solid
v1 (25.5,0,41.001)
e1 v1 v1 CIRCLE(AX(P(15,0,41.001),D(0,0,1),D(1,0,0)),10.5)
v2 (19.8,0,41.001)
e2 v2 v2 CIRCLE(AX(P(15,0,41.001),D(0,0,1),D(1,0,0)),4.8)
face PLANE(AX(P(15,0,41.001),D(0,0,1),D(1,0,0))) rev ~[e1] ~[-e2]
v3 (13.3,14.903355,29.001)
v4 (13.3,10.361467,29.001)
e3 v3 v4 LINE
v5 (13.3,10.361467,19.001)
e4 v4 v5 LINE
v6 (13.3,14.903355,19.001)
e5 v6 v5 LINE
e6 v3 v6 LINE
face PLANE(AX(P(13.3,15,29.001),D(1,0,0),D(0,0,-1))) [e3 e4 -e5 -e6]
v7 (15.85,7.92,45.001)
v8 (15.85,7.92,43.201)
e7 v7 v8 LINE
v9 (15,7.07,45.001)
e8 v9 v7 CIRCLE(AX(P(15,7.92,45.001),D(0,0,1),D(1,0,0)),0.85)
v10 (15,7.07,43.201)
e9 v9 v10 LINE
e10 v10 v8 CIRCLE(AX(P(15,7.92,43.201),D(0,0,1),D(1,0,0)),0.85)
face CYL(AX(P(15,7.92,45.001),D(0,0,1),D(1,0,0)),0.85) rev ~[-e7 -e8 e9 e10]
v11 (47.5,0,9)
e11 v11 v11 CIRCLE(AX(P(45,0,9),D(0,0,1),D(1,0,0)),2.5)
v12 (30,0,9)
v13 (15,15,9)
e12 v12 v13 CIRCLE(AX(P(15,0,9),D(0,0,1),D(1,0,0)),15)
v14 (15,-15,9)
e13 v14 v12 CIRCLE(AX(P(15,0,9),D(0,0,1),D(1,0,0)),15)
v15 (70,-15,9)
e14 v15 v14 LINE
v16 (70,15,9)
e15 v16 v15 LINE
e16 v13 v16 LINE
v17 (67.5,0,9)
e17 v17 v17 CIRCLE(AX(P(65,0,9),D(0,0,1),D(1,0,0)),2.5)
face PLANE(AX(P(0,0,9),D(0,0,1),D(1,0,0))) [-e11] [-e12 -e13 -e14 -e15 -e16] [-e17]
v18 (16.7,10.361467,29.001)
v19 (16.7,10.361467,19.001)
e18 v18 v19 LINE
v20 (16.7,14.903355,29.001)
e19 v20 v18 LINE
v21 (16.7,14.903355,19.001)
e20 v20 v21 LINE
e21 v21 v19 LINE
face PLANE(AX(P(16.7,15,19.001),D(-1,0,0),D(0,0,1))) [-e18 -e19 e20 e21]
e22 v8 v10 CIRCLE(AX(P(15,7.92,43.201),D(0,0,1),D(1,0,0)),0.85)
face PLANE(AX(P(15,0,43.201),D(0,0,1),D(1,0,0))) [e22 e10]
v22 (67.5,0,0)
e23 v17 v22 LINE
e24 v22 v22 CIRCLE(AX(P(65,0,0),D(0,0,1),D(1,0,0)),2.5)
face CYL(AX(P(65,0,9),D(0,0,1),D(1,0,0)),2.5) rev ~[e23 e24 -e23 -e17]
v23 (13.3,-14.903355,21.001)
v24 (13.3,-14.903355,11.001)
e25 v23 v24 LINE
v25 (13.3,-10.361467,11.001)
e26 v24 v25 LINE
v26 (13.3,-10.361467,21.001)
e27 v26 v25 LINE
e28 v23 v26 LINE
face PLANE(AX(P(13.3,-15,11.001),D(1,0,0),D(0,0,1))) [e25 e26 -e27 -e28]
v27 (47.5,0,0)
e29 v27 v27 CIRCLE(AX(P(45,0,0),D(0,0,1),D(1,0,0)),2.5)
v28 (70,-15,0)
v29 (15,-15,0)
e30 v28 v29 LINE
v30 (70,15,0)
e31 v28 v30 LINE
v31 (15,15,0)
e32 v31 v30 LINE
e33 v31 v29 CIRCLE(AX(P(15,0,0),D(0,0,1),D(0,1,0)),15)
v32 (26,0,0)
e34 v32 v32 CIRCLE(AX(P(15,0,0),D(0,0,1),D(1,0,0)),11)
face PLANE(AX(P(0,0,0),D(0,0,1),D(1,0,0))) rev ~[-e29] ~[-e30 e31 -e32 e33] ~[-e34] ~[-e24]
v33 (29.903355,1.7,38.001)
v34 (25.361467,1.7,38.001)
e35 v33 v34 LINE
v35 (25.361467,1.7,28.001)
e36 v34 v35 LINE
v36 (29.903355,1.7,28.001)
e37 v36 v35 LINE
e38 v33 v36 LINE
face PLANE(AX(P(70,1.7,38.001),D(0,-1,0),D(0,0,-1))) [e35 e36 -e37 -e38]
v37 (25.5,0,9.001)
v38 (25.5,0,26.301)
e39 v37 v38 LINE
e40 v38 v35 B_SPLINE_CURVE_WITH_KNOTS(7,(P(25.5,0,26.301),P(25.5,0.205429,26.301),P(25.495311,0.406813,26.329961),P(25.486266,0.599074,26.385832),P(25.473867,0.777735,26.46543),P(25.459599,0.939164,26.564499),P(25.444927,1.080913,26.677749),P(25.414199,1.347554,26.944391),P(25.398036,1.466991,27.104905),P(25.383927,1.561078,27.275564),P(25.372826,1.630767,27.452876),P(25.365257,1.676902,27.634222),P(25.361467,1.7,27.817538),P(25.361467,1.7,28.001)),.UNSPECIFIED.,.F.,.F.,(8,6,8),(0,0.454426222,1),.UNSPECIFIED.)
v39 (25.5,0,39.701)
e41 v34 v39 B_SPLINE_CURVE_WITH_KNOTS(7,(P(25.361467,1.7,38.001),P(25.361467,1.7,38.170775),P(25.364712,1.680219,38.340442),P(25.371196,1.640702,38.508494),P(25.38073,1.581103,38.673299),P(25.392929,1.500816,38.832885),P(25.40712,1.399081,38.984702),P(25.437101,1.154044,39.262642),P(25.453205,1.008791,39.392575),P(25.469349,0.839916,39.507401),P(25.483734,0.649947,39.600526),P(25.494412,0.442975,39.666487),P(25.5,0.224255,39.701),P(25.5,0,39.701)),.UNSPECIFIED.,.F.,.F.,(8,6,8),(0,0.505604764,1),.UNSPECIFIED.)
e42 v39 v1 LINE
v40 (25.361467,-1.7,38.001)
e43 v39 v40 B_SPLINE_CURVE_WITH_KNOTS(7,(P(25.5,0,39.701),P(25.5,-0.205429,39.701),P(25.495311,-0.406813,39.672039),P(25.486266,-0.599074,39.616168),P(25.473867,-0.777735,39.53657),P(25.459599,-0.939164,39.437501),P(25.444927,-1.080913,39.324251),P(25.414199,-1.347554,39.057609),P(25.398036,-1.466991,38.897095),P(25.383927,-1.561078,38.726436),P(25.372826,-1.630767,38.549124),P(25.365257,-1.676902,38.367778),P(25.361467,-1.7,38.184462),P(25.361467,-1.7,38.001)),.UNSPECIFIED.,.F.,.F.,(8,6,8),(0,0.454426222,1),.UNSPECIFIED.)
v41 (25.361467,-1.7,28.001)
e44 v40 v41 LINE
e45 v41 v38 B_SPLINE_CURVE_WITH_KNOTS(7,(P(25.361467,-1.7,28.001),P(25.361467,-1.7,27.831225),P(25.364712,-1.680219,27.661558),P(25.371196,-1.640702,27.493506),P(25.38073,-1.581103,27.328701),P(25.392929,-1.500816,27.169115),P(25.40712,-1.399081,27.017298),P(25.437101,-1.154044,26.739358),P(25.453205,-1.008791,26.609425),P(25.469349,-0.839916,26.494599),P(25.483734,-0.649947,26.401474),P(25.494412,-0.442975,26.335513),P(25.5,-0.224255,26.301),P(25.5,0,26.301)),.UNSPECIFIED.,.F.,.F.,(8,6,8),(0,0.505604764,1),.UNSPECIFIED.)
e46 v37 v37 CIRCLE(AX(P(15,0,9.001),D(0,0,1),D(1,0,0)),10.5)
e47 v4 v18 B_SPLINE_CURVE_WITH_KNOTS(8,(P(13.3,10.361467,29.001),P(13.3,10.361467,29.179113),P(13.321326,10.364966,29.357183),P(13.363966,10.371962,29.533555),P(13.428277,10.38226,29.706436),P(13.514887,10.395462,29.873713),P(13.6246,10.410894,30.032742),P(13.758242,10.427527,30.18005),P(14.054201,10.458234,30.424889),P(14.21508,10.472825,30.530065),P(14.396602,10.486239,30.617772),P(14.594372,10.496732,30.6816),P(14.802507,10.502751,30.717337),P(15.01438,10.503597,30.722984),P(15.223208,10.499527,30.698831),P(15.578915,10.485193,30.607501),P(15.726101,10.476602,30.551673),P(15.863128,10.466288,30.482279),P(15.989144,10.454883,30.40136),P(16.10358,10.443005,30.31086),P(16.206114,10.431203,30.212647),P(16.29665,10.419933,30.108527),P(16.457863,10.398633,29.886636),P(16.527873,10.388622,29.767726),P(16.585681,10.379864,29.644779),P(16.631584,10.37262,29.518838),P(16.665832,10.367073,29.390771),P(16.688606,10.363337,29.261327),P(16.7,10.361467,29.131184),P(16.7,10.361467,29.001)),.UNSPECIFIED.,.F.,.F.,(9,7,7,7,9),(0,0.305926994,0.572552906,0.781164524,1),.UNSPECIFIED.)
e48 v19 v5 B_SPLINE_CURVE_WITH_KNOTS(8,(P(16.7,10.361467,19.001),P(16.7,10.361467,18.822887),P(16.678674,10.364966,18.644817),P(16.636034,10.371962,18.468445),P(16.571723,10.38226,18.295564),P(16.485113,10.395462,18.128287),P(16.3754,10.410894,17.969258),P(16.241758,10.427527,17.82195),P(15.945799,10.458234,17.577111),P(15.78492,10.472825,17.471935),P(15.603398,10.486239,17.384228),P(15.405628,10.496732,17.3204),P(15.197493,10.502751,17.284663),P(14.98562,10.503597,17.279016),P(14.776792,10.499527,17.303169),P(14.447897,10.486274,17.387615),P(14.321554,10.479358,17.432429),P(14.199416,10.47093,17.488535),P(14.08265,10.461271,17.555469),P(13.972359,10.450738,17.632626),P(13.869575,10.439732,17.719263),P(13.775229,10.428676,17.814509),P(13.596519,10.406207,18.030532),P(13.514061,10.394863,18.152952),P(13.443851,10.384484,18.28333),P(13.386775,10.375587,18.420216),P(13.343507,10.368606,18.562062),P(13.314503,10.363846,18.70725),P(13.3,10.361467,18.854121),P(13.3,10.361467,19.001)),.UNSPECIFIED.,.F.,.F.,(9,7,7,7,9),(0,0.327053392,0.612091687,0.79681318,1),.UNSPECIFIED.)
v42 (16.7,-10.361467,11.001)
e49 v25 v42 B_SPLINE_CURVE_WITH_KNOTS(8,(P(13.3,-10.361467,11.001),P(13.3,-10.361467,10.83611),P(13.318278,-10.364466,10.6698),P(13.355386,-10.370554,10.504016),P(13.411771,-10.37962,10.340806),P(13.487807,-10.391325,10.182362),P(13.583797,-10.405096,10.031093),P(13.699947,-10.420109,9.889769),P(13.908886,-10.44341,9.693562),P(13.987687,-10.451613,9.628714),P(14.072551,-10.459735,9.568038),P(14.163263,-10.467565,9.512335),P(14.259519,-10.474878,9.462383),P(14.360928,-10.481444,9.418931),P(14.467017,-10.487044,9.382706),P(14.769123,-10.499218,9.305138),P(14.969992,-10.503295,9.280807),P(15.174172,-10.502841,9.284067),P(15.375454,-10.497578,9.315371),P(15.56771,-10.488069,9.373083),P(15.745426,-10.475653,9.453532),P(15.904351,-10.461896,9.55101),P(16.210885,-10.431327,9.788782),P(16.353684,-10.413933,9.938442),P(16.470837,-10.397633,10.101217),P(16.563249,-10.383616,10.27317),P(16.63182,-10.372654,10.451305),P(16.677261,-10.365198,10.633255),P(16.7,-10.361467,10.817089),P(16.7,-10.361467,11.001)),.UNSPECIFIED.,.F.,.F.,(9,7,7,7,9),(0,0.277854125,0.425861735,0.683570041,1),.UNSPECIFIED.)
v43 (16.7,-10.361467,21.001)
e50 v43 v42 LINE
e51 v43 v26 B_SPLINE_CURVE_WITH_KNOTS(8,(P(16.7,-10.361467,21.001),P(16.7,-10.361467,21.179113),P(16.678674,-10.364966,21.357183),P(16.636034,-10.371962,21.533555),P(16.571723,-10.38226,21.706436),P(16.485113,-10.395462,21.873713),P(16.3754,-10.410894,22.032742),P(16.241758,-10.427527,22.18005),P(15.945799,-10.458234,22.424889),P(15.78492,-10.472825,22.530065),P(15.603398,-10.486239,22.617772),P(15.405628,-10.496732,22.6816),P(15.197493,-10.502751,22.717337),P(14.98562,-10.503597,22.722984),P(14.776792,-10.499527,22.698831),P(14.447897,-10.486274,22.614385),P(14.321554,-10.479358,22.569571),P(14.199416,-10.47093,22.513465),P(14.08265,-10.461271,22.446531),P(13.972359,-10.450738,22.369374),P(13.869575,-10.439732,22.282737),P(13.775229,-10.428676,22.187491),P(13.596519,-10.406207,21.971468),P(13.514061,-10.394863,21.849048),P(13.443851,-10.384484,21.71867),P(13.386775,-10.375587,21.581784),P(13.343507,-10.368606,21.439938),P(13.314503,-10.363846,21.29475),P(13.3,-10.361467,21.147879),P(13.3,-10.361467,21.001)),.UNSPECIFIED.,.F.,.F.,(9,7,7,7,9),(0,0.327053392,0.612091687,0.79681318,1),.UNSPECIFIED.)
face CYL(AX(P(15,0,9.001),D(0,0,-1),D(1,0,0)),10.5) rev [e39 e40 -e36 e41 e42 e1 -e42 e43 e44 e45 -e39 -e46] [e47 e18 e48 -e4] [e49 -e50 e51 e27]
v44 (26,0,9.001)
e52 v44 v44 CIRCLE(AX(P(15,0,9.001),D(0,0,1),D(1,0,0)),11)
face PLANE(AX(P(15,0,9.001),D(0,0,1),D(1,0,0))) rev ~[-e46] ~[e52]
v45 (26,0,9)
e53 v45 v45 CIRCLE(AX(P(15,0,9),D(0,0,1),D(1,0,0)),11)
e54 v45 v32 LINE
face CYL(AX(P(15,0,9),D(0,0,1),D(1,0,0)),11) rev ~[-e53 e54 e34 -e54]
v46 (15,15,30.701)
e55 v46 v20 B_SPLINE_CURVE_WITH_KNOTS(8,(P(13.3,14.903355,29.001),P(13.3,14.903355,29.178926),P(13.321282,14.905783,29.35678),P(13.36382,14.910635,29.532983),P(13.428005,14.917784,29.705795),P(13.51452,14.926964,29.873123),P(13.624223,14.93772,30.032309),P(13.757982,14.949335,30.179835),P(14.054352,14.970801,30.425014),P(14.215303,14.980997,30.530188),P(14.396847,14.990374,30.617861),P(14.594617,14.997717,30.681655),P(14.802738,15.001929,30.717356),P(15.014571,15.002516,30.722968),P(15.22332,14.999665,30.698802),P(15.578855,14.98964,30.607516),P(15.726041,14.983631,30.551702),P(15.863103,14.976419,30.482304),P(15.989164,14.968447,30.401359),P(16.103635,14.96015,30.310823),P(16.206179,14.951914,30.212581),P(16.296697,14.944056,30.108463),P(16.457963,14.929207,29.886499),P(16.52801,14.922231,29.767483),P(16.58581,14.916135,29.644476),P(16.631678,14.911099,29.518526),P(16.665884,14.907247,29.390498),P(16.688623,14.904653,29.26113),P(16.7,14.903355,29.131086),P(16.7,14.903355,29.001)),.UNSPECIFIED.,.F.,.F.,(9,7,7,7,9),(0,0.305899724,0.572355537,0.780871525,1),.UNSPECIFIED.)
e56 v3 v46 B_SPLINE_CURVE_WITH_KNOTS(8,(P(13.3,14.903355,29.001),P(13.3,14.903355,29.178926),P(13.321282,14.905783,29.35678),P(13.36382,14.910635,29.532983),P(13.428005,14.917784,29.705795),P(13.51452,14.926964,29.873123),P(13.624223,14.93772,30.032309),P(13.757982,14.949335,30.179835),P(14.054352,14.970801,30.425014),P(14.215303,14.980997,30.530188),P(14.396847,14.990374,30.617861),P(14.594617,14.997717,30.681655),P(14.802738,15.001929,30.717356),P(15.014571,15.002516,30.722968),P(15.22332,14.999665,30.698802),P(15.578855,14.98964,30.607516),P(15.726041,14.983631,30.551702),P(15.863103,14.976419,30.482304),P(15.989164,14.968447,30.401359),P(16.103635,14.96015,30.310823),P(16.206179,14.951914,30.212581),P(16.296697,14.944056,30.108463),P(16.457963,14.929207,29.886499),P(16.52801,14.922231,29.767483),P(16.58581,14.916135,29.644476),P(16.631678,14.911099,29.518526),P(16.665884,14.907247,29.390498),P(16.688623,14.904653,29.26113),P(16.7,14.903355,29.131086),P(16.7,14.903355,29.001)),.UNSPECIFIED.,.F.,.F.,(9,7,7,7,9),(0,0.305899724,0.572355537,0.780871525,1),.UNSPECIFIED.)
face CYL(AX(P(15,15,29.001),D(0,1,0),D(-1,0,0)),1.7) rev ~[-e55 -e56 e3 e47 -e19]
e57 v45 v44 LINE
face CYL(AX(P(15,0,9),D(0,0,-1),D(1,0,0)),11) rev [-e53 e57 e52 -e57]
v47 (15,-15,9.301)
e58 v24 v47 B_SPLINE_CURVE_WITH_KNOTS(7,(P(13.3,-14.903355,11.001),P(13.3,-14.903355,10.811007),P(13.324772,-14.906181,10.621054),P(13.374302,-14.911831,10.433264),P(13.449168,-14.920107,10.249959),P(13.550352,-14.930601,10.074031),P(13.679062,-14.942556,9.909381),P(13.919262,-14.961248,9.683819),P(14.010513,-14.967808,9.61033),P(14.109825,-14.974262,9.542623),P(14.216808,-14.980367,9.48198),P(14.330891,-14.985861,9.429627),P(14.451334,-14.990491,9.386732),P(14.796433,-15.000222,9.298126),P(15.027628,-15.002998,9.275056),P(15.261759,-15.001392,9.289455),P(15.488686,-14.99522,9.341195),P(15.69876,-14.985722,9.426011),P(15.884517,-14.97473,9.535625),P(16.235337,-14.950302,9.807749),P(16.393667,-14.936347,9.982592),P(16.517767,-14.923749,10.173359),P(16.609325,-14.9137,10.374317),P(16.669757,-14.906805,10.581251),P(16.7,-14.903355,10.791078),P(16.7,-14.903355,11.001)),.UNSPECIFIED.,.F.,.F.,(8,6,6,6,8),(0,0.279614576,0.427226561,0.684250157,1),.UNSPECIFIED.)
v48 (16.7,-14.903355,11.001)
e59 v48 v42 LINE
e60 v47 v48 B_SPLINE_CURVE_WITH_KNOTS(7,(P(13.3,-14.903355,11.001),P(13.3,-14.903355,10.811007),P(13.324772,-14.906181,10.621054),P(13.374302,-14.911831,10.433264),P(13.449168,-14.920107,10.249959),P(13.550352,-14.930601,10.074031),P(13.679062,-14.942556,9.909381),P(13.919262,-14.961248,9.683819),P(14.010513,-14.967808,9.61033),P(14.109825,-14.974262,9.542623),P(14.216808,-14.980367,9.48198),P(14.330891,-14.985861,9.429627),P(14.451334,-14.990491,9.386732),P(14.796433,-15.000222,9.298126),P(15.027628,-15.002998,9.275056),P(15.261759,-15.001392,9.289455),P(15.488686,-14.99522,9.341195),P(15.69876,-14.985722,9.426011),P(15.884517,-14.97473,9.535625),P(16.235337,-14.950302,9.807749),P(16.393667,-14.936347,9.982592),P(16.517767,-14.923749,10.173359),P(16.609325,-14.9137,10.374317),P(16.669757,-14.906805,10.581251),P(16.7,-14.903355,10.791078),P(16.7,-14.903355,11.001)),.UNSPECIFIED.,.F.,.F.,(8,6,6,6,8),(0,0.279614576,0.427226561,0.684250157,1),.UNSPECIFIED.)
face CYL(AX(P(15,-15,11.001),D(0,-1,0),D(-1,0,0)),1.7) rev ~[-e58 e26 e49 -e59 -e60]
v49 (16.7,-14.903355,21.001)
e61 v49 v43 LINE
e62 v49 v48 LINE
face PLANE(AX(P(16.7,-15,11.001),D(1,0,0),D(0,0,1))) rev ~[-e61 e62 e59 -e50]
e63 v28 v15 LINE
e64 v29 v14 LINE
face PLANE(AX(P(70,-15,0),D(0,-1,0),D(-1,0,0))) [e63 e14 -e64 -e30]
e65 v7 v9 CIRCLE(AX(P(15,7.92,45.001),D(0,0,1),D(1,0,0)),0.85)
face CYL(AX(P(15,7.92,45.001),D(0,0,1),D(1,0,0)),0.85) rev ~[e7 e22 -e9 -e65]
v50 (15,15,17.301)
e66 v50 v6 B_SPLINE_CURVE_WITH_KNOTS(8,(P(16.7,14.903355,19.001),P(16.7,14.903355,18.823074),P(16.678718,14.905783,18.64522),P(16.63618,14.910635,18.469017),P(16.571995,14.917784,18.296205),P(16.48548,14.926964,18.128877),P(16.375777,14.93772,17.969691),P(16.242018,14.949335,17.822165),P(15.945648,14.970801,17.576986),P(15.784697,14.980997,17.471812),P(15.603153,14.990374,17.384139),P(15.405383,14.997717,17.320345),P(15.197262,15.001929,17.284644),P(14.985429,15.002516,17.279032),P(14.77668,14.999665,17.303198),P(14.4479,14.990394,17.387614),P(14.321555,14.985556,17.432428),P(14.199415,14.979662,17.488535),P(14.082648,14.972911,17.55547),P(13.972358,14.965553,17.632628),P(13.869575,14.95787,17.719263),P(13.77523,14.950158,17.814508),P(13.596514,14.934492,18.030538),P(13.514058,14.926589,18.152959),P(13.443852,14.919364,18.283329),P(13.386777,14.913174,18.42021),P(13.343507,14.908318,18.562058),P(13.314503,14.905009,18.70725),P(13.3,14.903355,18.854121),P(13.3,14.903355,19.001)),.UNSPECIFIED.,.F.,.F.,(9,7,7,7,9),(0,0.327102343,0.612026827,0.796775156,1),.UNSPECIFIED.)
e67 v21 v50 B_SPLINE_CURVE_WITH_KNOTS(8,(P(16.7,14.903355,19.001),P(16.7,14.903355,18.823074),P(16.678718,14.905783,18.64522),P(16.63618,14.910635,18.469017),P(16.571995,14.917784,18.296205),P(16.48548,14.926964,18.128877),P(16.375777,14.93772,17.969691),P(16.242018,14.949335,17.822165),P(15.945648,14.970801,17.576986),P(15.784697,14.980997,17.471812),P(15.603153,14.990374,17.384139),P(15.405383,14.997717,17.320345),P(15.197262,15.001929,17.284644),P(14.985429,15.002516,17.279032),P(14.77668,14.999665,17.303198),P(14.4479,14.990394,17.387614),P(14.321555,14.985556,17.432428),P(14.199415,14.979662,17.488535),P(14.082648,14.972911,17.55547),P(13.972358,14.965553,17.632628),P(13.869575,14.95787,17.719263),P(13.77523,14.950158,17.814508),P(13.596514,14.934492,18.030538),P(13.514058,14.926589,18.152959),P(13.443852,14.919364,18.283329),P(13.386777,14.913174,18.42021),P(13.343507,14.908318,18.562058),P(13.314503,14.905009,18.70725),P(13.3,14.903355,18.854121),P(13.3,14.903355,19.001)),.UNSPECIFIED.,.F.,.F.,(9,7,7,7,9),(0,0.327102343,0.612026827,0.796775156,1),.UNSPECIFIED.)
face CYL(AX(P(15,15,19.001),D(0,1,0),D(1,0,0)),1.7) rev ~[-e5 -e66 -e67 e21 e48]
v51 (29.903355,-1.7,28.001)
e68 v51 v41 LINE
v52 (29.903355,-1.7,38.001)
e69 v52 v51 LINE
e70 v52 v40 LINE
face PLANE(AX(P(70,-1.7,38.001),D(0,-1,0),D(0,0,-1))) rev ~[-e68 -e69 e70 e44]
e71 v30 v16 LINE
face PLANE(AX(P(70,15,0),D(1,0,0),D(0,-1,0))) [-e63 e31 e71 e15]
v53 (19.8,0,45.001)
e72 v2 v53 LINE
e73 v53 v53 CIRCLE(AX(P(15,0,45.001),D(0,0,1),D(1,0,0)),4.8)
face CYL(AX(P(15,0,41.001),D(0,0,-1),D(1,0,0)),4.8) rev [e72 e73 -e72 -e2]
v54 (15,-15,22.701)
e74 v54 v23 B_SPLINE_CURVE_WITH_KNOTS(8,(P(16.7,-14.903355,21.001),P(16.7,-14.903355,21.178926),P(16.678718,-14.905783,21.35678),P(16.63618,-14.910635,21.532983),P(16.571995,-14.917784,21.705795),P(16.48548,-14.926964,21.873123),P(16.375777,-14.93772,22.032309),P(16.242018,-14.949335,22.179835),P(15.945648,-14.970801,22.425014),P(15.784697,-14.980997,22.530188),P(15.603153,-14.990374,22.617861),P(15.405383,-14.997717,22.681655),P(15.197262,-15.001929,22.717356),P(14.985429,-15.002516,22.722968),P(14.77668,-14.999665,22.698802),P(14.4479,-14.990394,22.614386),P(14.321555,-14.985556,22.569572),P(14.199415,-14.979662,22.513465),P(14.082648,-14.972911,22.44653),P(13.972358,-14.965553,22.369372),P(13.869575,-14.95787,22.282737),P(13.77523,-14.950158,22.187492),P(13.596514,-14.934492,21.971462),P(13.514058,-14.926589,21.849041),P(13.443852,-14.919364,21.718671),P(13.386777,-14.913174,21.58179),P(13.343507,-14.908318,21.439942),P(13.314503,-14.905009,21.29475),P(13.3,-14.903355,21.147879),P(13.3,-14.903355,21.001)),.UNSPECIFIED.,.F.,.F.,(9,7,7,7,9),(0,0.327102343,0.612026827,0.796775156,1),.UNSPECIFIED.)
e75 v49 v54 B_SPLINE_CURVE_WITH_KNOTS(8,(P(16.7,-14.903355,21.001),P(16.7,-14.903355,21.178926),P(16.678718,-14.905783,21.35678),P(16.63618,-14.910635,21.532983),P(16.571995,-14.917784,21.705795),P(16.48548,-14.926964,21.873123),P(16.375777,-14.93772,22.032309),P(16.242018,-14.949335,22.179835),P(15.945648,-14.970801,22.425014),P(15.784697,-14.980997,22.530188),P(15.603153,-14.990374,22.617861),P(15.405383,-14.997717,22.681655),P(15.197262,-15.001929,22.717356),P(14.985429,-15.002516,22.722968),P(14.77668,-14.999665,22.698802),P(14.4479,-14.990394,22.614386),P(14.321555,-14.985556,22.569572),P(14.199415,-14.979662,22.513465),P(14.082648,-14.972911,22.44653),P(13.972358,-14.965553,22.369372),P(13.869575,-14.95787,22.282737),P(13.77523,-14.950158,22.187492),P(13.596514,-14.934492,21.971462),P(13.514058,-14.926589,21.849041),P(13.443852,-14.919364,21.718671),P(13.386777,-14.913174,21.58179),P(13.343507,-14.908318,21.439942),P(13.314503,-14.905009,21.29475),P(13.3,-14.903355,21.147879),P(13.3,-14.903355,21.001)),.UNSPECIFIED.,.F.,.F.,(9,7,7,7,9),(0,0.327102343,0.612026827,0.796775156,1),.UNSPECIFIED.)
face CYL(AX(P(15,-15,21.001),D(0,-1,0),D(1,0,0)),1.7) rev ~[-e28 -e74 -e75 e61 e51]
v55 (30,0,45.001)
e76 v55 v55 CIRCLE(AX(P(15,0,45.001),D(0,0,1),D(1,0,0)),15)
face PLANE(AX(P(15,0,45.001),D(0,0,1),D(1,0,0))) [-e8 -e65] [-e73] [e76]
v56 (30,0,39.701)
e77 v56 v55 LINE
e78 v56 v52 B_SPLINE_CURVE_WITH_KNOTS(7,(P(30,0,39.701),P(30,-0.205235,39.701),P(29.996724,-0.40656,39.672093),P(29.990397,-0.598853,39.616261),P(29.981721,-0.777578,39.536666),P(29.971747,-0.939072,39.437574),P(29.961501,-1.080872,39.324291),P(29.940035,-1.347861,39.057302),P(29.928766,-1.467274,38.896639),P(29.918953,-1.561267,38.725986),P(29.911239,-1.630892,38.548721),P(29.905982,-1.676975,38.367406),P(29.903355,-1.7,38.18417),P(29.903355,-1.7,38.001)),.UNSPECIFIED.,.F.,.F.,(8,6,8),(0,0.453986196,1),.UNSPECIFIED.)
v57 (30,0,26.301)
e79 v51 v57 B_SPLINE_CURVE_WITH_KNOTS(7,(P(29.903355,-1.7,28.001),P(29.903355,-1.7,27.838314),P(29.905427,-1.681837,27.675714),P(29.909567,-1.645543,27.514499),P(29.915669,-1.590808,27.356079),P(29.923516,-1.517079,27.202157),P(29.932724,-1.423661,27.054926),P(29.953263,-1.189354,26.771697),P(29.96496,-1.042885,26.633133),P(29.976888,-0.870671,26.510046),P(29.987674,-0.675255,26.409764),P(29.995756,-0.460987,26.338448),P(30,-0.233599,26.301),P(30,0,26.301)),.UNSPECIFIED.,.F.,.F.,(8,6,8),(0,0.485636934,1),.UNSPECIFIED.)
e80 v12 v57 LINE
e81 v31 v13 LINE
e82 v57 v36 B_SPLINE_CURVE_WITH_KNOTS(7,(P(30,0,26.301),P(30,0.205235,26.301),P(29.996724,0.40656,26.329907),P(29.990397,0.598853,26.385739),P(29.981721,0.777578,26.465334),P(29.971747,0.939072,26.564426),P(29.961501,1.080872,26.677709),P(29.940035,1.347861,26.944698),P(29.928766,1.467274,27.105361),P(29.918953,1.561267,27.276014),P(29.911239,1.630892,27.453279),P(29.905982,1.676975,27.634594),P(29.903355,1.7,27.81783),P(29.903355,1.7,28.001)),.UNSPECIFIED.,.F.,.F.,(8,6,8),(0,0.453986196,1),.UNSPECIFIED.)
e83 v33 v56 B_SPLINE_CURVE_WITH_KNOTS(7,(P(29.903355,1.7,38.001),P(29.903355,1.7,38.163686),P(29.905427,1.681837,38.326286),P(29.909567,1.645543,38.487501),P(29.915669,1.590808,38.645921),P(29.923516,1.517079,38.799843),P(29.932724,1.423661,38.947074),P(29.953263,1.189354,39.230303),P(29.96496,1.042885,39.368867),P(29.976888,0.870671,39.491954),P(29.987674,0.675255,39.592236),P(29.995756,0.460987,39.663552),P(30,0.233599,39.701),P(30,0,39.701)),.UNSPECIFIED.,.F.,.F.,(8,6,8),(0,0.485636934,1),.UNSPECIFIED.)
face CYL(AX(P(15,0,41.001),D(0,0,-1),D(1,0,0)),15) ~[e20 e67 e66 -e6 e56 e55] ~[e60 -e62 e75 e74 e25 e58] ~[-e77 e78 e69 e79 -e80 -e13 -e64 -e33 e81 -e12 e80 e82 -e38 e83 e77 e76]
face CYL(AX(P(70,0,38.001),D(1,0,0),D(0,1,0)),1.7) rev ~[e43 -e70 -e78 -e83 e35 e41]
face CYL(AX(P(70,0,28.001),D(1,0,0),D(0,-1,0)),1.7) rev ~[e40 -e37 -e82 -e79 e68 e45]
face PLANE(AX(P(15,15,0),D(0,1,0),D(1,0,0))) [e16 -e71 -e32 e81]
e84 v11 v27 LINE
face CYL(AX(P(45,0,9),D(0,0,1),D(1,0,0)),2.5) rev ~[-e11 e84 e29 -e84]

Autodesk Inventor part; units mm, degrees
ref_plane "YZ Plane" through (0, 0, 0) normal (1, 0, 0) x (0, 1, 0)
ref_plane "XZ Plane" through (0, 0, 0) normal (0, 1, 0) x (-1, 0, 0)
ref_plane "XY Plane" through (0, 0, 0) normal (0, 0, 1) x (1, 0, 0)
sketch "Sketch1" plane through (0, 0, 0) normal (0, 0, 1) x (1, 0, 0)
  line L0 (15, 15) -> (70, 15)
  line L1 (70, 15) -> (70, -15)
  line L2 (70, -15) -> (15, -15)
  line L3 (-14, 0) -> (84, 0) projected
  arc A0 (15, 15) -> (15, -15) centre (15, 0) ccw
  line L4 (0, -21) -> (0, 21) projected
  line L5 (15, 0) -> (70, 0)
  point P0 (0, 0)
  dimension "d4" = 30
  dimension "d15" = 15
  dimension "d16" = 55
extrude "Extrusion1" add sketch "Sketch1" along normal blind 9
sketch "Sketch2" plane through (0, 0, 9) normal (0, 0, 1) x (1, 0, 0)
  circle A0 centre (15, 0) radius 11
  arc A1 (15, 15) -> (15, -15) centre (15, 0) ccw projected
  point P0 (0, 0)
  dimension "d7" = 22
extrude "Extrusion2" cut sketch "Sketch2" against normal blind 10
sketch "Sketch3" plane through (0, 0, 9) normal (0, 0, 1) x (1, 0, 0)
  circle A0 centre (45, 0) radius 2.5
  circle A1 centre (65, 0) radius 2.5
  line L0 (70, -15) -> (70, 15) projected
  point P0 (0, 0)
  dimension "d28" = 3.4
  dimension "d29" = 7
  dimension "d30" = 10
  dimension "d31" = 15
  dimension "d10" = 5
  dimension "d11" = 5
  dimension "d12" = 25
extrude "Extrusion3" cut sketch "Sketch3" against normal blind 25
sketch "Sketch4" plane through (0, 0, 9) normal (0, 0, 1) x (1, 0, 0)
  circle A0 centre (15, 0) radius 15
  circle A1 centre (15, 0) radius 11
  circle A2 centre (15, 0) radius 11 projected
  arc A3 (15, 15) -> (15, -15) centre (15, 0) ccw projected
  point P0 (0, 0)
extrude "Extrusion4" add sketch "Sketch4" along normal blind 0.001
sketch "Sketch5" plane through (15, 0, 9.001) normal (0, 0, 1) x (1, 0, 0)
  circle A0 centre (0, 0) radius 15
  circle A1 centre (0, 0) radius 10.5
  circle A2 centre (0, 0) radius 15 projected
  point P0 (-15, 0)
  dimension "d19" = 21
extrude "Extrusion5" add sketch "Sketch5" along normal blind 32
sketch "Sketch6" plane through (15, 0, 41.001) normal (0, 0, 1) x (1, 0, 0)
  circle A0 centre (0, 0) radius 4.8
  circle A1 centre (0, 0) radius 15
  circle A2 centre (0, 0) radius 15 projected
  point P0 (-15, 0)
  dimension "d22" = 9.6
extrude "Extrusion6" add sketch "Sketch6" along normal blind 4
sketch "Sketch7" plane through (70, -15, 0) normal (1, 0, 0) x (0, 0, -1)
  line L0 (-45.001, 30) -> (-45.001, 0) projected
  arc A0 (-38.001, 16.7) -> (-38.001, 13.3) centre (-38.001, 15) ccw
  line L1 (-38.001, 16.7) -> (-28.001, 16.7)
  arc A1 (-28.001, 13.3) -> (-28.001, 16.7) centre (-28.001, 15) ccw
  line L2 (-38.001, 13.3) -> (-28.001, 13.3)
  line L3 (-9, 0) -> (-9, 30) projected
  line L4 (0, 0) -> (-9, 0) projected
  point P0 (0, 15)
  dimension "d28" = 3.4
  dimension "d29" = 7
  dimension "d30" = 10
  dimension "d31" = 15
extrude "Extrusion7" cut sketch "Sketch7" against normal blind 50
sketch "Sketch8" plane through (15, 15, 0) normal (0, 1, 0) x (1, 0, 0)
  arc A0 (-1.7, -29.001) -> (1.7, -29.001) centre (0, -29.001) ccw
  arc A1 (1.7, -19.001) -> (-1.7, -19.001) centre (0, -19.001) ccw
  line L0 (-1.7, -29.001) -> (-1.7, -19.001)
  line L1 (1.7, -19.001) -> (1.7, -29.001)
  line L2 (0, -29.001) -> (0, -19.001)
  line L3 (55, -9) -> (0, -9) projected
  line L4 (55, 0) -> (55, -9) projected
  line L5 (-15, -45.001) -> (15, -45.001) projected
  point P0 (-15, 0)
  dimension "d34" = 55
  dimension "d35" = 3.4
  dimension "d36" = 16
  dimension "d37" = 10
extrude "Extrusion8" cut sketch "Sketch8" against normal blind 20
sketch "Sketch9" plane through (15, -15, 0) normal (0, -1, 0) x (1, 0, 0)
  arc A0 (-1.7, 11.001) -> (1.7, 11.001) centre (0, 11.001) ccw
  line L0 (-1.7, 11.001) -> (-1.7, 21.001)
  line L1 (1.7, 11.001) -> (1.7, 21.001)
  arc A1 (1.7, 21.001) -> (-1.7, 21.001) centre (0, 21.001) ccw
  line L2 (15, 45.001) -> (-15, 45.001) projected
  line L3 (55, 0) -> (55, 9) projected
  point P0 (-15, 0)
  dimension "d40" = 24
  dimension "d41" = 10
  dimension "d42" = 3.4
  dimension "d43" = 55
extrude "Extrusion9" cut sketch "Sketch9" against normal blind 20
sketch "Sketch10" plane through (15, 0, 45.001) normal (0, 0, 1) x (1, 0, 0)
  circle A0 centre (0, 7.92) radius 0.85
  circle A1 centre (0, 0) radius 15 projected
  line L0 (0, 7.92) -> (0, 0)
  point P0 (-15, 0)
  dimension "d46" = 1.7
  dimension "d47" = 7.92
extrude "Extrusion10" cut sketch "Sketch10" against normal blind 1.8 contours A0
equation "\"d13\" = d12"
properties part number "bearing_mount3"
